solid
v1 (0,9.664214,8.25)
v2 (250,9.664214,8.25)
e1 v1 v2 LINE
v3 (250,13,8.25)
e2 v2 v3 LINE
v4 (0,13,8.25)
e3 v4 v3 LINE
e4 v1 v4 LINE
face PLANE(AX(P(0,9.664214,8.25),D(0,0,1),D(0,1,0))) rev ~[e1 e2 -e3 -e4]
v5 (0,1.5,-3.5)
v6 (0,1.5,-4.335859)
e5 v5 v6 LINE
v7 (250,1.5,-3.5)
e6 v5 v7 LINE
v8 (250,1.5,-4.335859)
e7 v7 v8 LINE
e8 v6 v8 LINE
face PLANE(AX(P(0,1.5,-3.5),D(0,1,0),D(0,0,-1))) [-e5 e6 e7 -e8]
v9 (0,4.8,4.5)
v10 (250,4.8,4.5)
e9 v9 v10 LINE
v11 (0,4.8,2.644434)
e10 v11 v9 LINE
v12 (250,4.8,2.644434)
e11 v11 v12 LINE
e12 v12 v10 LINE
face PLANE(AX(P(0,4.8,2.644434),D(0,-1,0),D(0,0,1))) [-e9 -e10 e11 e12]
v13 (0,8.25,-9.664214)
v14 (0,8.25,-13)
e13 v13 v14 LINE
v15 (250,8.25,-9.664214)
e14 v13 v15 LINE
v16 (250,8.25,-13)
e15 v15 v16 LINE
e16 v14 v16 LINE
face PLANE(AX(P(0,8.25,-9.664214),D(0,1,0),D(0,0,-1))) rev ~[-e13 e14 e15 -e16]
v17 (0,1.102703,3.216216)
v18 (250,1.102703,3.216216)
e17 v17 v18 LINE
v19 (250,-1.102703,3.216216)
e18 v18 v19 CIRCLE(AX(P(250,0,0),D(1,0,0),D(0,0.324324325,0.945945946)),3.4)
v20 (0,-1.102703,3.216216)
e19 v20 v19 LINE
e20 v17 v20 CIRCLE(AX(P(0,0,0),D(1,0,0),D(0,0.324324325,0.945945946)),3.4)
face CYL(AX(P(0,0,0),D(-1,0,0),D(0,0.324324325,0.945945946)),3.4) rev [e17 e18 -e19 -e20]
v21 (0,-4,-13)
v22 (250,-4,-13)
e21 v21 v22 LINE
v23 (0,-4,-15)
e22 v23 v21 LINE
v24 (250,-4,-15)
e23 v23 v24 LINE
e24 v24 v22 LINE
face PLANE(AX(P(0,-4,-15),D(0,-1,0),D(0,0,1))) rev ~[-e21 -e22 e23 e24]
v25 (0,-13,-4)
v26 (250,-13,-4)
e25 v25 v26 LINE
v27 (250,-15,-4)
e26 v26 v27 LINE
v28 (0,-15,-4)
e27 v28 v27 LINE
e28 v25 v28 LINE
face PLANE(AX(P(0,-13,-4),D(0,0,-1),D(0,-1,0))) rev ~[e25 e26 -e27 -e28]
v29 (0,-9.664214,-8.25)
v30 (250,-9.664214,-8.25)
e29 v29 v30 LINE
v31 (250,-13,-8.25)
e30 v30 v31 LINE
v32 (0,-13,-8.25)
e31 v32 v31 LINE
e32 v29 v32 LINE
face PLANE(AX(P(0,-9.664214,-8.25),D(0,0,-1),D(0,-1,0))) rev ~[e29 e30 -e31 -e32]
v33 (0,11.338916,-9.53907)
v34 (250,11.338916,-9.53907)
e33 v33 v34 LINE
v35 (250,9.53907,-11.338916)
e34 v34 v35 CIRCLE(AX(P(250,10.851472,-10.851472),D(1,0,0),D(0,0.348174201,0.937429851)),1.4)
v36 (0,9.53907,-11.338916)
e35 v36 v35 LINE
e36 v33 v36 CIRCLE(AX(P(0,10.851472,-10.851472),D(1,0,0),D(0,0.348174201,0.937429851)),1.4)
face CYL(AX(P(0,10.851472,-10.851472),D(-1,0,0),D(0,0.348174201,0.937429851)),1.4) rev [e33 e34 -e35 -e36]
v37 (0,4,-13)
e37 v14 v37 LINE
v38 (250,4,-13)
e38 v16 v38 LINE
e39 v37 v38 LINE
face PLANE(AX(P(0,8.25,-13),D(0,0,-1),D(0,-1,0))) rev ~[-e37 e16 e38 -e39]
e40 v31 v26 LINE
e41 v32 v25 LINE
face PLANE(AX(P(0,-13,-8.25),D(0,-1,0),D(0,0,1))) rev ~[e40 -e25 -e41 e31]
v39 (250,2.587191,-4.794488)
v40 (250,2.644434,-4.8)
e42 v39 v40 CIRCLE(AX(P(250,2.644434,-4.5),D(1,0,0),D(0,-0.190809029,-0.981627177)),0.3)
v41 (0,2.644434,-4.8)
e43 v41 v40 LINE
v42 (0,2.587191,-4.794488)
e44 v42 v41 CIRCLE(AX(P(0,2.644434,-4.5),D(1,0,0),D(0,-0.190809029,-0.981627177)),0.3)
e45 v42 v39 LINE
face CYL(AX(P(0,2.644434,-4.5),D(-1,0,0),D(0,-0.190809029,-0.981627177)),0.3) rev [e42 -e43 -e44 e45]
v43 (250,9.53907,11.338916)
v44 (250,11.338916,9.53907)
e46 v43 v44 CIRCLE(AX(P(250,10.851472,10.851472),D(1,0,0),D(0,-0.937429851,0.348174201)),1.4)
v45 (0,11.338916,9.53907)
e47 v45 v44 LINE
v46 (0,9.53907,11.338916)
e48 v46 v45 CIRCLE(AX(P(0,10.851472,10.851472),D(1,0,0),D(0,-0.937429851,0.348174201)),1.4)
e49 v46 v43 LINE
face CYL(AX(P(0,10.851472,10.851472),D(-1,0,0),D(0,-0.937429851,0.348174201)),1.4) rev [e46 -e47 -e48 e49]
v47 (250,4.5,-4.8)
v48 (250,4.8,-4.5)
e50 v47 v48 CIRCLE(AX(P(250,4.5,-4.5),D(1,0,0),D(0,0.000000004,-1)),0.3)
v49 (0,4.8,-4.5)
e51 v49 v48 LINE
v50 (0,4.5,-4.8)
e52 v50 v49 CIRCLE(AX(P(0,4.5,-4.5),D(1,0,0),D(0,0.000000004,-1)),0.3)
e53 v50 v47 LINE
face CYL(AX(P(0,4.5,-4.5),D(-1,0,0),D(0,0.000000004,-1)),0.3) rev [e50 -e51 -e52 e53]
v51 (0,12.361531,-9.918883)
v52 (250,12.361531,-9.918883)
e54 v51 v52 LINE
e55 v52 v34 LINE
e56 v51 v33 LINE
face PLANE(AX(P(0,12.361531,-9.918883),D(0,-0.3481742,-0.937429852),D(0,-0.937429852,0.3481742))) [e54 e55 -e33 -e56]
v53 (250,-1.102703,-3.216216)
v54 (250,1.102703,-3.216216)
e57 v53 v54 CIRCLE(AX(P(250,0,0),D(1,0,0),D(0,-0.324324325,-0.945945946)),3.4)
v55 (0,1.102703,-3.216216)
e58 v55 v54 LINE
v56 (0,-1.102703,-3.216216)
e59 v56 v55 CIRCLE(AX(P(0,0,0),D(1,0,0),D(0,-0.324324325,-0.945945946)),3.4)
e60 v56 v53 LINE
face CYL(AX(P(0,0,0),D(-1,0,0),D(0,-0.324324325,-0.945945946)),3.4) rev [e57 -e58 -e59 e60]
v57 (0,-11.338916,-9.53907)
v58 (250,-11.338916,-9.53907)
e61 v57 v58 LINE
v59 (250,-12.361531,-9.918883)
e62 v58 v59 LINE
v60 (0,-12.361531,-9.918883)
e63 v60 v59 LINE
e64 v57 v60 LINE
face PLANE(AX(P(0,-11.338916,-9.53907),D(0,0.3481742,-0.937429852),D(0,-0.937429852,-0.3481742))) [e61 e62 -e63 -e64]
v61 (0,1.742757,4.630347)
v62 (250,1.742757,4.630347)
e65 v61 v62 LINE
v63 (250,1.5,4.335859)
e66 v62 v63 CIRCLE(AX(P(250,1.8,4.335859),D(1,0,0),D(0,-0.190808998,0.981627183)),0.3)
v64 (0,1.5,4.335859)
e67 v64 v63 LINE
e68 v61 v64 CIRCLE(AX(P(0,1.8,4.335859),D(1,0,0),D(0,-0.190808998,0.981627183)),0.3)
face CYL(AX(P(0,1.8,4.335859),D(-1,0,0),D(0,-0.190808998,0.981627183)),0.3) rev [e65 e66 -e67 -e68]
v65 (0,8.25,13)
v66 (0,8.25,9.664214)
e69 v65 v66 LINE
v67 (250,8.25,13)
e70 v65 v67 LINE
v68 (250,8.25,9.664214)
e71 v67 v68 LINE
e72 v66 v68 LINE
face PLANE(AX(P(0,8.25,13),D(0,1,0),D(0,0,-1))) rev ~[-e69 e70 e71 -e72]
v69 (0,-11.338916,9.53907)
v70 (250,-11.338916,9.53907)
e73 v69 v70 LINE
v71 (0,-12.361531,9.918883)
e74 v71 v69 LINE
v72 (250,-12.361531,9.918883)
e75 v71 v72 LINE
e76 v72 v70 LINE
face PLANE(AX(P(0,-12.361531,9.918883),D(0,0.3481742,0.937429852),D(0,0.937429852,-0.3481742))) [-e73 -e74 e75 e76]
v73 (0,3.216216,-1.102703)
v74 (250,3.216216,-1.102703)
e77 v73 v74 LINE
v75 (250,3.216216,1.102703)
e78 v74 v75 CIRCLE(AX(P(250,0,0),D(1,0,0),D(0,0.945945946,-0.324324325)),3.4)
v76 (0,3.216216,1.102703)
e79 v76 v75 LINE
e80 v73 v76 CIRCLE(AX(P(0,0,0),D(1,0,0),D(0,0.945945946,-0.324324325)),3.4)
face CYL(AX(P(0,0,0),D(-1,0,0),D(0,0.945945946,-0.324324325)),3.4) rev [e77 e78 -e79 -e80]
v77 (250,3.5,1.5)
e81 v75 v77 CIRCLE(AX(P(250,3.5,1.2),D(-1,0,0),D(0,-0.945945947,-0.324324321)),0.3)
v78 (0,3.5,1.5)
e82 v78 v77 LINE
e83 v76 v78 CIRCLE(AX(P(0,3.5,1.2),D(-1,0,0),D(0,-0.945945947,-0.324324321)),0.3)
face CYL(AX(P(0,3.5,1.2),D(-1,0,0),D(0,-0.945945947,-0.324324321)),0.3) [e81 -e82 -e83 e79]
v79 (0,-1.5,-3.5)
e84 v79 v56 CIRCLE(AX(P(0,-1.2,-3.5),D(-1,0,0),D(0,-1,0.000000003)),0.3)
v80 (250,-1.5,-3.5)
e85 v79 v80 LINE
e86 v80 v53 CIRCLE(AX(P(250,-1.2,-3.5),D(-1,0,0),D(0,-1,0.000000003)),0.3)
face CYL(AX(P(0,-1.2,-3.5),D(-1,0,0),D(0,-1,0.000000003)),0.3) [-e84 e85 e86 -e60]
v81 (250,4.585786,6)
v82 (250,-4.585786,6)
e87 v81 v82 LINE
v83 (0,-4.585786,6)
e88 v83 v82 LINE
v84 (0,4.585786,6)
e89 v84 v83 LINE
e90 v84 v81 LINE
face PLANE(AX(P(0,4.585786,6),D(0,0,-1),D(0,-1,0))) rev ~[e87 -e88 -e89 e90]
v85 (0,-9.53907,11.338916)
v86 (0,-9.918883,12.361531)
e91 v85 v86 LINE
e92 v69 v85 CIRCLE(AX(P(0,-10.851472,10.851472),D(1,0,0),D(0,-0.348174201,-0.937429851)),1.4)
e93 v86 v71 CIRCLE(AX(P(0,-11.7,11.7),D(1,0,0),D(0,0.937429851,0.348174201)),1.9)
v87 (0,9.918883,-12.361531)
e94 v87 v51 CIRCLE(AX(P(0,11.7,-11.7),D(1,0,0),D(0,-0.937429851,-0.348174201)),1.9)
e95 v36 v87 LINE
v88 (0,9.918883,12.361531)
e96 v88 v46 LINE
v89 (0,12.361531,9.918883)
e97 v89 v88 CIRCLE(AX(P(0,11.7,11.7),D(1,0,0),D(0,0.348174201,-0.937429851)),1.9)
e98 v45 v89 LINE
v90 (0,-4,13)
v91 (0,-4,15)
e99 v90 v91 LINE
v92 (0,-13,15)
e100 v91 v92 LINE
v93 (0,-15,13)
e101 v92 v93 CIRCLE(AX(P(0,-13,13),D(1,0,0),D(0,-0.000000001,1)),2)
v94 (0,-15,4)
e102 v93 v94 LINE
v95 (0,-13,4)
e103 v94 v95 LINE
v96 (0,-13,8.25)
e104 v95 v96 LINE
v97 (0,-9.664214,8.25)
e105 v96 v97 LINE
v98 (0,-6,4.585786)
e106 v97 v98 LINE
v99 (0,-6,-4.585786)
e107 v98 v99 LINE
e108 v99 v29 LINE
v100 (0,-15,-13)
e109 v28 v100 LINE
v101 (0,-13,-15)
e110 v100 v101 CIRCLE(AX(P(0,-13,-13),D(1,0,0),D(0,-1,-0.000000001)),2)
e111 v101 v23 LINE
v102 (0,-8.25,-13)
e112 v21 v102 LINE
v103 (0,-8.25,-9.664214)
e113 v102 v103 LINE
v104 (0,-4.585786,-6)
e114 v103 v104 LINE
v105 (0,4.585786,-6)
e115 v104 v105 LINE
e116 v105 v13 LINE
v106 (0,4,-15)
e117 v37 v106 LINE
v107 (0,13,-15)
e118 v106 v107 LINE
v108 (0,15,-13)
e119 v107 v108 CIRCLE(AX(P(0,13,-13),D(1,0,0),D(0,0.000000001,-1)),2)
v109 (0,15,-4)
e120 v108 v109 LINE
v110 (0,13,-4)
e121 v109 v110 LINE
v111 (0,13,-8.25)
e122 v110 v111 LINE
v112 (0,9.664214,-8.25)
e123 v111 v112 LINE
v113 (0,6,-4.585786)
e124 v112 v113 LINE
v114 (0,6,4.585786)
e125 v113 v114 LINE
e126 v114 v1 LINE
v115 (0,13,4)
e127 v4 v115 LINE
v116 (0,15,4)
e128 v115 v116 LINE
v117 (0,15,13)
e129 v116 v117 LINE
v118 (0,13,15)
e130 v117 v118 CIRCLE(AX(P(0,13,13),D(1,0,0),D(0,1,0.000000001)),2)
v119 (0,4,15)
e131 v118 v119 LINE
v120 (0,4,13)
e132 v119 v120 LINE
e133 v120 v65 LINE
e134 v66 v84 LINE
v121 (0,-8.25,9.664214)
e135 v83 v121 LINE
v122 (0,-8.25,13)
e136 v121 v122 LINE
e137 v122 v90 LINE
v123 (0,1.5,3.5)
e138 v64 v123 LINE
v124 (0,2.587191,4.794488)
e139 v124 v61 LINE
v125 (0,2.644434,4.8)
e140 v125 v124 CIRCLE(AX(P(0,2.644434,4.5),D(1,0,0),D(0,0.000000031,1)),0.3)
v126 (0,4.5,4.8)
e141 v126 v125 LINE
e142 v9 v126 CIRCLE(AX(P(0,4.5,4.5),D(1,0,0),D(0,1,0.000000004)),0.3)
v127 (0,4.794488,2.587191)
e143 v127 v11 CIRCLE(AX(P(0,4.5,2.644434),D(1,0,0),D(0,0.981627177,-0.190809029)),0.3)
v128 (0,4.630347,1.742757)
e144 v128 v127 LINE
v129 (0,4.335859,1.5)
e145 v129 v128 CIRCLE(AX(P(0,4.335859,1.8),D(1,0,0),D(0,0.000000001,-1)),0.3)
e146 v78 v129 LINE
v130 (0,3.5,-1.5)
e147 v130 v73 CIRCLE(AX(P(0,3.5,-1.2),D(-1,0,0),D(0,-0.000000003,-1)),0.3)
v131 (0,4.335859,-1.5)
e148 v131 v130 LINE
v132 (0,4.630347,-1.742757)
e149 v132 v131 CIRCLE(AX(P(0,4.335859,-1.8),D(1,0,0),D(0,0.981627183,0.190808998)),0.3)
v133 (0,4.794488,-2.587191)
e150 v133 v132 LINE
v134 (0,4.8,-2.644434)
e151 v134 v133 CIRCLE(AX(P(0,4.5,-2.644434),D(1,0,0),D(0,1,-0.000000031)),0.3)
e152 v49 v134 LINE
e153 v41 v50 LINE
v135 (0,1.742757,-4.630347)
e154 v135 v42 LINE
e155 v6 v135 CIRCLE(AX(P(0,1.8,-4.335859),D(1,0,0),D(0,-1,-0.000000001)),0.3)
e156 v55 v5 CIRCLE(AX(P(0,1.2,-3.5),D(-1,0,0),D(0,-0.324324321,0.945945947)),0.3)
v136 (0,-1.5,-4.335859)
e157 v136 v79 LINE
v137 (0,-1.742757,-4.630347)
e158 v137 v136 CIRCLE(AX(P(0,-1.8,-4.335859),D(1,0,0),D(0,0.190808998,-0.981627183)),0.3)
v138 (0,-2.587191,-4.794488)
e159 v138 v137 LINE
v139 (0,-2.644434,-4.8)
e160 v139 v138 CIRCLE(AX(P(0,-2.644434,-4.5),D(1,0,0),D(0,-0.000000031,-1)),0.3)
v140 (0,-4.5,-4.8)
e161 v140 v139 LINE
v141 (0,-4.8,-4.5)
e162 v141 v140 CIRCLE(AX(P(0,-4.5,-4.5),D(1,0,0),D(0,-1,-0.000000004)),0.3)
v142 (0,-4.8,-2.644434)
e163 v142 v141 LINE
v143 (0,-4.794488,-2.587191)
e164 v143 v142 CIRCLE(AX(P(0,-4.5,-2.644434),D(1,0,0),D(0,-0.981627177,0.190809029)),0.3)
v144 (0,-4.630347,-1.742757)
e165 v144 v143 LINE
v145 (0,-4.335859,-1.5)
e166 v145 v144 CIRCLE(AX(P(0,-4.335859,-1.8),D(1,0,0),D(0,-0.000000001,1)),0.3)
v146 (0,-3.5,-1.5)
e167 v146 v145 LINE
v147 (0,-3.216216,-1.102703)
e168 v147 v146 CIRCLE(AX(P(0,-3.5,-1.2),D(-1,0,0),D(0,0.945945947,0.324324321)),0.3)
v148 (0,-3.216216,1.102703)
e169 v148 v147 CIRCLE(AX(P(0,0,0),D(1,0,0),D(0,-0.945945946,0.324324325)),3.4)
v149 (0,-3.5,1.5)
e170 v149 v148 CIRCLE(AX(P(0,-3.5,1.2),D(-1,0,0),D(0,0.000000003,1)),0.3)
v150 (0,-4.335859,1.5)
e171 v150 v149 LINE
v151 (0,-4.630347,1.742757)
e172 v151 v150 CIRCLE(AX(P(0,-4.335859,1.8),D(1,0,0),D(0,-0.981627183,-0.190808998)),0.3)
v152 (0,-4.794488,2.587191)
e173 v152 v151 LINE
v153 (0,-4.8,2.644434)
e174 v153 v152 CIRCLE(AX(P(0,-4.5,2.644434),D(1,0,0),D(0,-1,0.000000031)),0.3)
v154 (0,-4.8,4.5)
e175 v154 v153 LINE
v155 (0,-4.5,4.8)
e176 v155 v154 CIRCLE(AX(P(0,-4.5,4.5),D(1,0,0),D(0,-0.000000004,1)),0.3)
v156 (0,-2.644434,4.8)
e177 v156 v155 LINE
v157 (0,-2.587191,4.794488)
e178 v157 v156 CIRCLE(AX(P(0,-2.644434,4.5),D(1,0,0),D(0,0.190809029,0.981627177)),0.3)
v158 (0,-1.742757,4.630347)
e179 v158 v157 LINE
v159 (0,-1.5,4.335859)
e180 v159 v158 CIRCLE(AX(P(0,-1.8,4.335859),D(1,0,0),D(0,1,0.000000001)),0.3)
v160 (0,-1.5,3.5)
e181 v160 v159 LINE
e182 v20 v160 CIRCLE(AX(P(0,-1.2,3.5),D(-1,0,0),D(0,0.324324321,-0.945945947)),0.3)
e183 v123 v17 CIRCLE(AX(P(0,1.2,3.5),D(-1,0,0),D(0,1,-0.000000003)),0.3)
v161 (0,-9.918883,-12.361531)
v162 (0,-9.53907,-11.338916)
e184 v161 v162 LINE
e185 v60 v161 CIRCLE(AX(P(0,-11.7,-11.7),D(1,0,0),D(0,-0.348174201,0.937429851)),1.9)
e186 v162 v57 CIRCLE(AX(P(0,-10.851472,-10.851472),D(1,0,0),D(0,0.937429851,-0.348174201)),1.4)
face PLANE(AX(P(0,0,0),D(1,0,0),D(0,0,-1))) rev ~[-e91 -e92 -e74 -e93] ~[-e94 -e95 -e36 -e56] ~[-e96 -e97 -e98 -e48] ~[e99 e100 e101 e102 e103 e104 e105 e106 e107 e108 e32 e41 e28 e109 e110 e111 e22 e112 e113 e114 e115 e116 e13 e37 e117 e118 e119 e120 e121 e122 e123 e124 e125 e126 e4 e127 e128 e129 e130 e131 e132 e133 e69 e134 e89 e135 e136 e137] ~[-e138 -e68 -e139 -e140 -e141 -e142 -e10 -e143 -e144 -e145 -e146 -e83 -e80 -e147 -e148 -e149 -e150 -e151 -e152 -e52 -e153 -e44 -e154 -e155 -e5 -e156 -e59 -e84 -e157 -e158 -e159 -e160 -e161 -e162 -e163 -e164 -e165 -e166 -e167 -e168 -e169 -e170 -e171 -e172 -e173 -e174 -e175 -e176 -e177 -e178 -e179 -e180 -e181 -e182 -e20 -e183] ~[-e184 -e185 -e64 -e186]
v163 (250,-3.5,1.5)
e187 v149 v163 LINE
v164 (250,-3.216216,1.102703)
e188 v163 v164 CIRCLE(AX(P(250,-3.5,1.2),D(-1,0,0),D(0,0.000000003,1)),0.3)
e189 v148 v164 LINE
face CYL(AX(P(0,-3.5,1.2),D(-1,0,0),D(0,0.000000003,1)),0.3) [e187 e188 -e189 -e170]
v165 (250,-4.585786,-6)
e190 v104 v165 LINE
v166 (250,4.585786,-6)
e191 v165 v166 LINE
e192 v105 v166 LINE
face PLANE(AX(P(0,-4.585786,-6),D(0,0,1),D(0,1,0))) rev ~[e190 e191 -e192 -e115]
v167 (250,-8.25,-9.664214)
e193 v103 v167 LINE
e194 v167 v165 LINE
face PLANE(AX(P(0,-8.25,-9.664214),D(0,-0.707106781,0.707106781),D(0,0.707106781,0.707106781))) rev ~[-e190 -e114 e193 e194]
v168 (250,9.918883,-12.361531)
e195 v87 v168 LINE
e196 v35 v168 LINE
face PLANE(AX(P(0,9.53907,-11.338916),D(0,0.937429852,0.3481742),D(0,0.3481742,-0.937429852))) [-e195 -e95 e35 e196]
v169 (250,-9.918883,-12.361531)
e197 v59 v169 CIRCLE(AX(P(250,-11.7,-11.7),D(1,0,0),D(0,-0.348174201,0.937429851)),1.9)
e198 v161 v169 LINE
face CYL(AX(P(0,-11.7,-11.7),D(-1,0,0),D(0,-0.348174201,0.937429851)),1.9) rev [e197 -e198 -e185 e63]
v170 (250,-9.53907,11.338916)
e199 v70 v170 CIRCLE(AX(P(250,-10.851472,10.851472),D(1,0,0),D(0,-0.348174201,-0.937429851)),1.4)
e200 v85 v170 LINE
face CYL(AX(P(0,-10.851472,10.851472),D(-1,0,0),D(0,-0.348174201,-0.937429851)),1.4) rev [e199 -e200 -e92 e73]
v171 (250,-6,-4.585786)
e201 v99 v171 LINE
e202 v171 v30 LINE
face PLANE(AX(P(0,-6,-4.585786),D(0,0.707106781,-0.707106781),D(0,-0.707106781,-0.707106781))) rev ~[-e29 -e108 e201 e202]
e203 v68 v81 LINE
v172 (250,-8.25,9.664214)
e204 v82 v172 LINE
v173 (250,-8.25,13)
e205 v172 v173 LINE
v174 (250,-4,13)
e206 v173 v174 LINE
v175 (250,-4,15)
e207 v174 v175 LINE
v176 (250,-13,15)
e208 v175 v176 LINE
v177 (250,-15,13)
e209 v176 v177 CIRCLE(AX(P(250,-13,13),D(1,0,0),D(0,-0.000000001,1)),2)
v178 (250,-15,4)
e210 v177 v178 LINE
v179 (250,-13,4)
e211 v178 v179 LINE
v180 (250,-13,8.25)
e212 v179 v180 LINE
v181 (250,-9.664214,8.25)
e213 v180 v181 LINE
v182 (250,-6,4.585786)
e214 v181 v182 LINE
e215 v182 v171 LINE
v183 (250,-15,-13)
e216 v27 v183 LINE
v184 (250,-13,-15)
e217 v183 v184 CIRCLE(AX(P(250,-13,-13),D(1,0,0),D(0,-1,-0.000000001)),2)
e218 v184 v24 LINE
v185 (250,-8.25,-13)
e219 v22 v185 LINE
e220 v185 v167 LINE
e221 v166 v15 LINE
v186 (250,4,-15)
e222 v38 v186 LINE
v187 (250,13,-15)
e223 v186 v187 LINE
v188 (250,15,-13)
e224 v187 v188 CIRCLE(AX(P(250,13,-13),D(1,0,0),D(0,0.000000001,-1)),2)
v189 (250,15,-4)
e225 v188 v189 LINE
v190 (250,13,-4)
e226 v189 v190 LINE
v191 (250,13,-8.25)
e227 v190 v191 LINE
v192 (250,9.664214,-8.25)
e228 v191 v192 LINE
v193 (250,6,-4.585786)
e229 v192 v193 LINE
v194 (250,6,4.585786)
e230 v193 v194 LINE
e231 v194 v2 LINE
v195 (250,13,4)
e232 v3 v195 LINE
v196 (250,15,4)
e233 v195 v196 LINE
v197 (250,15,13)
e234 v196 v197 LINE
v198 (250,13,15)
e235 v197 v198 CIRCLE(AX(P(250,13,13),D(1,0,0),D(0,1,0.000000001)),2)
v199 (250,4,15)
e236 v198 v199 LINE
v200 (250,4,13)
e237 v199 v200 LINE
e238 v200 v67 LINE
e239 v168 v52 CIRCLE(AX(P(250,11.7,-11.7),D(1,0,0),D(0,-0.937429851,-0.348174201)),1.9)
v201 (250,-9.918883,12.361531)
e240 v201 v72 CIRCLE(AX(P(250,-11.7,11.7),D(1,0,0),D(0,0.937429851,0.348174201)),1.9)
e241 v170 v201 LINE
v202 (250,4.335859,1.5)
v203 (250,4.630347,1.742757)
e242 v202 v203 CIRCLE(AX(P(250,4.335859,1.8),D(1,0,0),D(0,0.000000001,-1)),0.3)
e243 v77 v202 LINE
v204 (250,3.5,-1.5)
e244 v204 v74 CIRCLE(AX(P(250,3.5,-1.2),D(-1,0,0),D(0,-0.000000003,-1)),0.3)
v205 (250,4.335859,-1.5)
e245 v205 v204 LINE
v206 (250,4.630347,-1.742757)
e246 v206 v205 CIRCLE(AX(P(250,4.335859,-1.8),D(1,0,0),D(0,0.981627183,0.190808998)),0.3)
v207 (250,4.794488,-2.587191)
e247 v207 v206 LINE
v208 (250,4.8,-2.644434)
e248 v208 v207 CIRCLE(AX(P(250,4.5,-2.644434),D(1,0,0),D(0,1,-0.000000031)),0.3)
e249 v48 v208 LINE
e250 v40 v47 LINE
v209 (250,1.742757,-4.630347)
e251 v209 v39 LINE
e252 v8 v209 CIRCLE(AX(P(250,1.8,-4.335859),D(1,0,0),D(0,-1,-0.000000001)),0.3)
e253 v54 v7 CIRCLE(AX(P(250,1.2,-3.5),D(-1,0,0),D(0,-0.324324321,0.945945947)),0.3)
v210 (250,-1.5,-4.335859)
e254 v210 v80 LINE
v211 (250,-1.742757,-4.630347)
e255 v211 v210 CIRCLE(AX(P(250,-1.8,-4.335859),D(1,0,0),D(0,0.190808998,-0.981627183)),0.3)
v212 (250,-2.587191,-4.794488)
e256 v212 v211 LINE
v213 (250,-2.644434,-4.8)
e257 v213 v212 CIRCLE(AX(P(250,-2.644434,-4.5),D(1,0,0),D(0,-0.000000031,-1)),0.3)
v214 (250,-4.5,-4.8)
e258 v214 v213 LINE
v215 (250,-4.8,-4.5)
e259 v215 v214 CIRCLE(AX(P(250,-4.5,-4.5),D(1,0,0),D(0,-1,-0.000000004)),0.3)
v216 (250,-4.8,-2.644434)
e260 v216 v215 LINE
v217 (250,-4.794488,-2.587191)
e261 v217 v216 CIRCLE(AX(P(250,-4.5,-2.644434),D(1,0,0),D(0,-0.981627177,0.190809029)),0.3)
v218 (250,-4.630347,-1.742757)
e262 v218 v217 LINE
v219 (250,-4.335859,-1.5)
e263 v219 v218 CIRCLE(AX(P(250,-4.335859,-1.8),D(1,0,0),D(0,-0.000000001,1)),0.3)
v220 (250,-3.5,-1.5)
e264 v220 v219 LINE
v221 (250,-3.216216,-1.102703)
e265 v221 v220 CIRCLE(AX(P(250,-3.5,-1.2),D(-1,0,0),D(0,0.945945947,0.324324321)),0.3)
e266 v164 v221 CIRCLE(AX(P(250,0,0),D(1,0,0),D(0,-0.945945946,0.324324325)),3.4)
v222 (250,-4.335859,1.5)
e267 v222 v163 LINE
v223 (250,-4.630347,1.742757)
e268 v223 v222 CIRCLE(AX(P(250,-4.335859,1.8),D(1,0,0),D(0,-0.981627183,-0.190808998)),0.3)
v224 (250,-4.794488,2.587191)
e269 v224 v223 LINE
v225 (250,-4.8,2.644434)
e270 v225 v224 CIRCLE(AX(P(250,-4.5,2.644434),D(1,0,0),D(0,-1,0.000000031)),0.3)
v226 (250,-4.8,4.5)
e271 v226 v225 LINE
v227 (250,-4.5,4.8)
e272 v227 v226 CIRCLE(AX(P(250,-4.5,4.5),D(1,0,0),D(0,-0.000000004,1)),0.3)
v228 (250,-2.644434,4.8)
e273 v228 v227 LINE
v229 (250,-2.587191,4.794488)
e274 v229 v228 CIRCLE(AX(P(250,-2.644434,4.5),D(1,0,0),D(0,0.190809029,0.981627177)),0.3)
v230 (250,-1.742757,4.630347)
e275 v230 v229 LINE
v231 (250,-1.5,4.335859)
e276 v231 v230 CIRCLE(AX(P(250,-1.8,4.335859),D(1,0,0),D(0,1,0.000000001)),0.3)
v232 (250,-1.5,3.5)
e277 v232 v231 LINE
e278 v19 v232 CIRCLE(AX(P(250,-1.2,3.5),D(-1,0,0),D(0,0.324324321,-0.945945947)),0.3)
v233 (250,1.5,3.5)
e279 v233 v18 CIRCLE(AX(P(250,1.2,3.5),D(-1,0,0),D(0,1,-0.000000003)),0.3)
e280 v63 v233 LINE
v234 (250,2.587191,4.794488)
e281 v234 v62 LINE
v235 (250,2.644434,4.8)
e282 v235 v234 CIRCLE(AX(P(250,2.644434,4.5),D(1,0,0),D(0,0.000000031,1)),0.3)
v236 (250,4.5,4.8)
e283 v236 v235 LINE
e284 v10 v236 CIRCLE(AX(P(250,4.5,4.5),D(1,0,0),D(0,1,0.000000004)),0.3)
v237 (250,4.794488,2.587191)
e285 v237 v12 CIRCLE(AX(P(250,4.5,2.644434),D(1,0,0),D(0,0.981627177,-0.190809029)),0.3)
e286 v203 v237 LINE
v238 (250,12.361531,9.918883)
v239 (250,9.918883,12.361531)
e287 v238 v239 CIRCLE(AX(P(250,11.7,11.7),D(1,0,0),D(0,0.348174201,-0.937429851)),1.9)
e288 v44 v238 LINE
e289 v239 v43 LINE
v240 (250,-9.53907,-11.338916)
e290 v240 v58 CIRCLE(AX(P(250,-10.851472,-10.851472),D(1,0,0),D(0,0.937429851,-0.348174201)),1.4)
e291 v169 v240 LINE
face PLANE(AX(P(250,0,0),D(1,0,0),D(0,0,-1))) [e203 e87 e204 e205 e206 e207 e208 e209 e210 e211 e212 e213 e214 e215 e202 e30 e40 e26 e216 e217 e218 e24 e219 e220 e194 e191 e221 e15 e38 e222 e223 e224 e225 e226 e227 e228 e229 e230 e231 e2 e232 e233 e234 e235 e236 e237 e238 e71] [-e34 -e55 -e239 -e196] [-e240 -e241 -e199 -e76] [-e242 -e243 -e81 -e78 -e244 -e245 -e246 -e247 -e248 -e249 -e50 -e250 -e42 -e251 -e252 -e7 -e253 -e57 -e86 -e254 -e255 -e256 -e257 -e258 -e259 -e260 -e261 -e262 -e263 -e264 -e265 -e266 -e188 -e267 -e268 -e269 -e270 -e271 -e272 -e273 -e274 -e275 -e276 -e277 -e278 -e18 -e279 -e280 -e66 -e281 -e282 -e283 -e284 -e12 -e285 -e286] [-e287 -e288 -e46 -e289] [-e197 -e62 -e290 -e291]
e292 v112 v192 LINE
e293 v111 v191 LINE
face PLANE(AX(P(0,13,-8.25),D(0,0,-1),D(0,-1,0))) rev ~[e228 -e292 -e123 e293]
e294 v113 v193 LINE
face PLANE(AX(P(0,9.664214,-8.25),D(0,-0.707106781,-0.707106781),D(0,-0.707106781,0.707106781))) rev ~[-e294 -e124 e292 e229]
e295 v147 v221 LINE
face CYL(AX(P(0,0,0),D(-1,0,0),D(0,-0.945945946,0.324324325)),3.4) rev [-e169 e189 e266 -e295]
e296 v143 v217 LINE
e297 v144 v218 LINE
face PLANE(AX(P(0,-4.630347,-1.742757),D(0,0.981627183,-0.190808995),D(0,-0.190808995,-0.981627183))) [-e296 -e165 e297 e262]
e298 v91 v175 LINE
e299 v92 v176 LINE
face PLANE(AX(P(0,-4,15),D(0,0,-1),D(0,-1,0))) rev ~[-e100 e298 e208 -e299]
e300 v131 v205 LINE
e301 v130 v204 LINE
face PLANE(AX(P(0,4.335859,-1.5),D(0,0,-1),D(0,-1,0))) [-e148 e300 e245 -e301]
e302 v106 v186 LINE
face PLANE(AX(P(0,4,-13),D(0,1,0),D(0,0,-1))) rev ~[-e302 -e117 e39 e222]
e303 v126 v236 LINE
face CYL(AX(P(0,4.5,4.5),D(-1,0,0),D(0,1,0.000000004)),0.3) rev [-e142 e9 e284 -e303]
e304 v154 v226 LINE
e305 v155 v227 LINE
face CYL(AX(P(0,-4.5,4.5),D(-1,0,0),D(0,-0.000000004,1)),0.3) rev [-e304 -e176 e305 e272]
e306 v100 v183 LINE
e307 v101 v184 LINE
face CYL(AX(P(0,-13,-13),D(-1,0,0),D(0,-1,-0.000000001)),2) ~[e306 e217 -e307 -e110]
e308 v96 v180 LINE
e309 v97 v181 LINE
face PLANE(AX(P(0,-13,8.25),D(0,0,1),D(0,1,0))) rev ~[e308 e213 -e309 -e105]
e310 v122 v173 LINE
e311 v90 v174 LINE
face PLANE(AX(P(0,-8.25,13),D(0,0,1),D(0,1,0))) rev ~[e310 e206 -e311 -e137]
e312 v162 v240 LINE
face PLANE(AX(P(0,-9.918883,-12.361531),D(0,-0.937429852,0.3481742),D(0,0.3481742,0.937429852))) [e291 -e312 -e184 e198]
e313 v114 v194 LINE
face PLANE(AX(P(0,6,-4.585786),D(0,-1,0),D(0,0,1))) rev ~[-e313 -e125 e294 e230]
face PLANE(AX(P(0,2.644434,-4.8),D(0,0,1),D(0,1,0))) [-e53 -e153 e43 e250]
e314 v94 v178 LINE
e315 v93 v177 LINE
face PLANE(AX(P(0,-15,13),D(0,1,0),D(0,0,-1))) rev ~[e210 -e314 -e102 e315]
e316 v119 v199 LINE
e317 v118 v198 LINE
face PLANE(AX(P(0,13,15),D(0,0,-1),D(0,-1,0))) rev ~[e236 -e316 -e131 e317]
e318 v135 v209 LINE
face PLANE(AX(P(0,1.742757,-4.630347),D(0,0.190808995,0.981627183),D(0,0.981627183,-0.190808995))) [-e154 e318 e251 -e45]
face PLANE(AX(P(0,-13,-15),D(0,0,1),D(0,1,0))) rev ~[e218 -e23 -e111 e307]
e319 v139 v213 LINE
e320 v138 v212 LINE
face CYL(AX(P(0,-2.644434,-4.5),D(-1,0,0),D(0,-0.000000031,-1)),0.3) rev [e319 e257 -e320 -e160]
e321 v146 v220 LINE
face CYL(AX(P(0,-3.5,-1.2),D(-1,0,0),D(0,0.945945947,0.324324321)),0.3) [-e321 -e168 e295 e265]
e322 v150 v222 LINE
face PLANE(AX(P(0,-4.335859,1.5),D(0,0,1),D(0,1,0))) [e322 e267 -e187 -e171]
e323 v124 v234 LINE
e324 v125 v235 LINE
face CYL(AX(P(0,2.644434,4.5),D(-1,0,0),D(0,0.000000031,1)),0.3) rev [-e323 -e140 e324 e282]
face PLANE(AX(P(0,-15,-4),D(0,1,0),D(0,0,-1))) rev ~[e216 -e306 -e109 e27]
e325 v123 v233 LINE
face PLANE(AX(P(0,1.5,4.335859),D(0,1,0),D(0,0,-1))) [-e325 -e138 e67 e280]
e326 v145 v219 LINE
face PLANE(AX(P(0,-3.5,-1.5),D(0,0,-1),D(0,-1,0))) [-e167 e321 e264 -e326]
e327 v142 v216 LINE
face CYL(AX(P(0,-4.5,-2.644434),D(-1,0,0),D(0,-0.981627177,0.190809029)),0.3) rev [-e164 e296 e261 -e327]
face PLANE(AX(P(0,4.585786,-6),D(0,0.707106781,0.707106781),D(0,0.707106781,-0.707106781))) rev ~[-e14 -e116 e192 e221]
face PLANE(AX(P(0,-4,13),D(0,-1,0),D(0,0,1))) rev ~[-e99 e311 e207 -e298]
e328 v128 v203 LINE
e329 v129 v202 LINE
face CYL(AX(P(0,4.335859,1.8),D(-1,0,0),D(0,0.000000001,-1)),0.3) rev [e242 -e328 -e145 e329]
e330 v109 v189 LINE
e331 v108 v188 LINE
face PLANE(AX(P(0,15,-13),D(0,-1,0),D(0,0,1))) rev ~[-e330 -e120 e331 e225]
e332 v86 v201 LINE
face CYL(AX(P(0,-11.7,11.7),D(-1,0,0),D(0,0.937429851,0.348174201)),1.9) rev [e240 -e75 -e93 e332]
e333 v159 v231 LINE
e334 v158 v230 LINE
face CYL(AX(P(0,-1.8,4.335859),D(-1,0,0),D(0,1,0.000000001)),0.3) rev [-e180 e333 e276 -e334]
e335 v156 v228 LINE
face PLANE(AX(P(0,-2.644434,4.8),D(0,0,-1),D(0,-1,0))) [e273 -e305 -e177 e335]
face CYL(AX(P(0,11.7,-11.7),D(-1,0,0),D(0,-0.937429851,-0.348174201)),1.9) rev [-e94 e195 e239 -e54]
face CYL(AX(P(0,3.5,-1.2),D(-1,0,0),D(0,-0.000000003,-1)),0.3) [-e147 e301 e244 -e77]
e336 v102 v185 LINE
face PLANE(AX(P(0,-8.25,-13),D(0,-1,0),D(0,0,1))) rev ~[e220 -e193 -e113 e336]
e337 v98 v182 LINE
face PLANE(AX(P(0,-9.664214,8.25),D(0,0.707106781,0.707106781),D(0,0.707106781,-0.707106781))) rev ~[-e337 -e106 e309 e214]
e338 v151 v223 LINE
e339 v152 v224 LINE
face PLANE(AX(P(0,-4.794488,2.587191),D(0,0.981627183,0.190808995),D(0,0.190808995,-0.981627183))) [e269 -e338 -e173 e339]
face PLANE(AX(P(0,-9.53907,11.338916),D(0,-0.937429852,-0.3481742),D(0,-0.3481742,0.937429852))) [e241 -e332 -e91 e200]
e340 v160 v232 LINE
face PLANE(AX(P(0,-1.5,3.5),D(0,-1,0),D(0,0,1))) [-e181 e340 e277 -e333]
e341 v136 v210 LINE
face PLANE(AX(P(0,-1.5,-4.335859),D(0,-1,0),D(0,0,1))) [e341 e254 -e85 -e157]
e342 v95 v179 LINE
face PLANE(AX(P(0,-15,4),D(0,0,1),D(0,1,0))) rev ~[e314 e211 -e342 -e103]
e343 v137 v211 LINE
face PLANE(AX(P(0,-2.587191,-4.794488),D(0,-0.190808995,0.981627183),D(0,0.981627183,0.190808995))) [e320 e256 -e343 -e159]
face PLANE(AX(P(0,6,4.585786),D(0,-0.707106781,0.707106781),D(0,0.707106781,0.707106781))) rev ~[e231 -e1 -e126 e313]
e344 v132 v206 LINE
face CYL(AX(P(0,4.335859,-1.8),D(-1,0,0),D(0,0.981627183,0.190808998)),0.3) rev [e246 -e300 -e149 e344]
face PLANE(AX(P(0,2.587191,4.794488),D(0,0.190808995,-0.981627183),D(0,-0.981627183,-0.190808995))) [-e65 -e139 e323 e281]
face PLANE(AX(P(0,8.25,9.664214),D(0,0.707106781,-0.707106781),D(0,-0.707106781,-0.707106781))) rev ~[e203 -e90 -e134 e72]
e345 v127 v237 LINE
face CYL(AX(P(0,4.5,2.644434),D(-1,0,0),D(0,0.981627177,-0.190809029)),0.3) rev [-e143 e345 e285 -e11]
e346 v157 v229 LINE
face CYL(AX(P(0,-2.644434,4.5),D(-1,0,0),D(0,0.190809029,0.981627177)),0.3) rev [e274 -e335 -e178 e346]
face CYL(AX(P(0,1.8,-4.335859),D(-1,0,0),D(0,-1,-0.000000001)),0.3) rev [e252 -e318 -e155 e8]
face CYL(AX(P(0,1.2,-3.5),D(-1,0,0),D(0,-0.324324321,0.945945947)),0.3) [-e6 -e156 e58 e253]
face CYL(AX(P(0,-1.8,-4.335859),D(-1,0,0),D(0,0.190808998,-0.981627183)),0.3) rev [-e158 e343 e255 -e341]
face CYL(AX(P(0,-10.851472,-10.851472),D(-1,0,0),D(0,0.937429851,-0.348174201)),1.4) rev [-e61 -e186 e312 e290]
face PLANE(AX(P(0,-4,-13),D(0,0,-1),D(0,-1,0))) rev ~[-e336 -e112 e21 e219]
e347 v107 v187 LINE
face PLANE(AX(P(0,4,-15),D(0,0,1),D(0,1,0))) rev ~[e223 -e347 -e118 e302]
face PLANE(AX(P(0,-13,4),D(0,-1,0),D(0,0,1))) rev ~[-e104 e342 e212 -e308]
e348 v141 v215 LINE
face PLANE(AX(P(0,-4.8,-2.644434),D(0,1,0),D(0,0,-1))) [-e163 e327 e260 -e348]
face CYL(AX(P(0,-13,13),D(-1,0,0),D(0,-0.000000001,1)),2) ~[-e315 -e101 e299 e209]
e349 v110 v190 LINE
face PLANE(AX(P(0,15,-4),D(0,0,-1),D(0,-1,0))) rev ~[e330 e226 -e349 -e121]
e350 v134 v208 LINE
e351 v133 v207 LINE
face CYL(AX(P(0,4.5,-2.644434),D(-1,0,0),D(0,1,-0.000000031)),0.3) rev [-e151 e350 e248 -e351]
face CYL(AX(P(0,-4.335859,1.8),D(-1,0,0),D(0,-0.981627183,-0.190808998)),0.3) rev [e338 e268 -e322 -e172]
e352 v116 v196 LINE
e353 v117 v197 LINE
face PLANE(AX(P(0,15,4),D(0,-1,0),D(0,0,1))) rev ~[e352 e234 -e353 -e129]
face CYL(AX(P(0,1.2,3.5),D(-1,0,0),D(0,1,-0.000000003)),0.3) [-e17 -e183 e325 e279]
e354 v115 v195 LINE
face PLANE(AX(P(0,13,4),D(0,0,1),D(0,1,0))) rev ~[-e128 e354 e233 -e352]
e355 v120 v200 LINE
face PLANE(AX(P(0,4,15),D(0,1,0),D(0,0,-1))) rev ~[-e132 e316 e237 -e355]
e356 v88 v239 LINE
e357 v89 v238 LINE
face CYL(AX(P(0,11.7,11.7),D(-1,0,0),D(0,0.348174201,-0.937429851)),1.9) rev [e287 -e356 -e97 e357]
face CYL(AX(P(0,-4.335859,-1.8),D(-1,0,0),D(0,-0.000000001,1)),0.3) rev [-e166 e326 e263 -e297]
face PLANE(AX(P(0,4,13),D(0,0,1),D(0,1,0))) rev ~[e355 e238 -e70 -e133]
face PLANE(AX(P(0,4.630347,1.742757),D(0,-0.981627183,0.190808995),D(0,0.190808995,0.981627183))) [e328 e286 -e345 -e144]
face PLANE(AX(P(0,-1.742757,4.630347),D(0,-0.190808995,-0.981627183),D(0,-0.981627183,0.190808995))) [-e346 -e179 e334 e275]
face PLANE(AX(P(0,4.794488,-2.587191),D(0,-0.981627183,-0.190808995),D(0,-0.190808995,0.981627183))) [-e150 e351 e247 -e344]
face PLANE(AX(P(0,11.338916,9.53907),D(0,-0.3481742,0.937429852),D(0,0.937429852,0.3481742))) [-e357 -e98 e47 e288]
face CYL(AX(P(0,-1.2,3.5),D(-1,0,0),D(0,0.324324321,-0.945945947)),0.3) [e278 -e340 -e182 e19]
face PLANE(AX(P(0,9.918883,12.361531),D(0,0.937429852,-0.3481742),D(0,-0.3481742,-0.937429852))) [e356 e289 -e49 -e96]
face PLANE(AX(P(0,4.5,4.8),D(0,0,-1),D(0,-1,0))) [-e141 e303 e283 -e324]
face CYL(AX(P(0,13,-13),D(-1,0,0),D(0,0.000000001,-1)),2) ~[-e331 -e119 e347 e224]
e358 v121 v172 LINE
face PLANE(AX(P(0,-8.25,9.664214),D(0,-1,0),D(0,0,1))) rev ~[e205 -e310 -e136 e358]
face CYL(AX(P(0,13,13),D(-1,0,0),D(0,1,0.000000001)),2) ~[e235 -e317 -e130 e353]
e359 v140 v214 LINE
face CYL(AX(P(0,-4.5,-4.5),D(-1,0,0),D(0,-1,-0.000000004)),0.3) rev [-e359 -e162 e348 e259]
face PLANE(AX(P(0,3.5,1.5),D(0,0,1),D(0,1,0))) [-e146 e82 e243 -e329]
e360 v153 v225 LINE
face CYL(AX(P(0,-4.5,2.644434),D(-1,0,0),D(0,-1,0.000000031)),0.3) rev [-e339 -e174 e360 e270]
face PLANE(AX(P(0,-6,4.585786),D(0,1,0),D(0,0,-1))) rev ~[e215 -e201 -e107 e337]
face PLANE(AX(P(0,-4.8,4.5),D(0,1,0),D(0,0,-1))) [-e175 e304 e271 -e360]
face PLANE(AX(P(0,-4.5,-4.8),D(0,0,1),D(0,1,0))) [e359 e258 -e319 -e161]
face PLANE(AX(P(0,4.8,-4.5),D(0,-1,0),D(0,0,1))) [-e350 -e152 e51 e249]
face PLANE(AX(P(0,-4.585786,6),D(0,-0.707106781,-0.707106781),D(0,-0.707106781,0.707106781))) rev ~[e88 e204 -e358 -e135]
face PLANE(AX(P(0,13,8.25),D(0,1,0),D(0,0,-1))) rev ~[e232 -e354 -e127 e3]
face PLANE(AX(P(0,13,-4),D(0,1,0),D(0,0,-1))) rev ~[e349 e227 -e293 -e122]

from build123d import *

# Parameters (mm, degrees)
BOSS_EXTRUDE1_DEPTH = 250


with BuildPart() as part:
    # Sketch1 → Boss-Extrude1 (new body)
    with BuildSketch(Plane(origin=(0, 0, 0), x_dir=(0, 0, -1), z_dir=(1, 0, 0))):
        with BuildLine():
            Line((-15, 13), (-15, 4))
            Line((-15, 4), (-13, 4))
            Line((-13, 4), (-13, 8.25))
            Line((-13, 8.25), (-9.664213562, 8.25))
            Line((-9.664213562, 8.25), (-6, 4.585786438))
            Line((-6, 4.585786438), (-6, -4.585786438))
            Line((-6, -4.585786438), (-9.664213562, -8.25))
            Line((-9.664213562, -8.25), (-13, -8.25))
            Line((-13, -8.25), (-13, -4))
            Line((-13, -4), (-15, -4))
            Line((-15, -4), (-15, -13))
            ThreePointArc((-15, -13), (-14.414213562, -14.414213562), (-13, -15))
            Line((-13, -15), (-4, -15))
            Line((-4, -15), (-4, -13))
            Line((-4, -13), (-8.25, -13))
            Line((-8.25, -13), (-8.25, -9.664213562))
            Line((-8.25, -9.664213562), (-4.585786438, -6))
            Line((-4.585786438, -6), (4.585786438, -6))
            Line((4.585786438, -6), (8.25, -9.664213562))
            Line((8.25, -9.664213562), (8.25, -13))
            Line((8.25, -13), (4, -13))
            Line((4, -13), (4, -15))
            Line((4, -15), (13, -15))
            ThreePointArc((13, -15), (14.414213562, -14.414213562), (15, -13))
            Line((15, -13), (15, -4))
            Line((15, -4), (13, -4))
            Line((13, -4), (13, -8.25))
            Line((13, -8.25), (9.664213562, -8.25))
            Line((9.664213562, -8.25), (6, -4.585786438))
            Line((6, -4.585786438), (6, 4.585786438))
            Line((6, 4.585786438), (9.664213562, 8.25))
            Line((9.664213562, 8.25), (13, 8.25))
            Line((13, 8.25), (13, 4))
            Line((13, 4), (15, 4))
            Line((15, 4), (15, 13))
            ThreePointArc((15, 13), (14.414213562, 14.414213562), (13, 15))
            Line((13, 15), (4, 15))
            Line((4, 15), (4, 13))
            Line((4, 13), (8.25, 13))
            Line((8.25, 13), (8.25, 9.664213562))
            Line((8.25, 9.664213562), (4.585786438, 6))
            Line((4.585786438, 6), (-4.585786438, 6))
            Line((-4.585786438, 6), (-8.25, 9.664213562))
            Line((-8.25, 9.664213562), (-8.25, 13))
            Line((-8.25, 13), (-4, 13))
            Line((-4, 13), (-4, 15))
            Line((-4, 15), (-13, 15))
            ThreePointArc((-13, 15), (-14.414213562, 14.414213562), (-15, 13))
        make_face()
        with BuildLine():
            Line((-9.539070071, 11.338915743), (-9.918883282, 12.361530981))
            ThreePointArc((-9.918883282, 12.361530981), (-13.043502884, 13.043502884), (-12.361530981, 9.918883282))
            Line((-12.361530981, 9.918883282), (-11.338915743, 9.539070071))
            ThreePointArc((-11.338915743, 9.539070071), (-9.861522369, 9.861522369), (-9.539070071, 11.338915743))
        make_face(mode=Mode.SUBTRACT)
        with BuildLine():
            Line((9.918883282, 12.361530981), (9.539070071, 11.338915743))
            ThreePointArc((9.539070071, 11.338915743), (9.861522369, 9.861522369), (11.338915743, 9.539070071))
            Line((11.338915743, 9.539070071), (12.361530981, 9.918883282))
            ThreePointArc((12.361530981, 9.918883282), (13.043502884, 13.043502884), (9.918883282, 12.361530981))
        make_face(mode=Mode.SUBTRACT)
        with BuildLine():
            Line((12.361530981, -9.918883282), (11.338915743, -9.539070071))
            ThreePointArc((11.338915743, -9.539070071), (9.861522369, -9.861522369), (9.539070071, -11.338915743))
            Line((9.539070071, -11.338915743), (9.918883282, -12.361530981))
            ThreePointArc((9.918883282, -12.361530981), (13.043502884, -13.043502884), (12.361530981, -9.918883282))
        make_face(mode=Mode.SUBTRACT)
        with BuildLine():
            Line((-11.338915743, -9.539070071), (-12.361530981, -9.918883282))
            ThreePointArc((-12.361530981, -9.918883282), (-13.043502884, -13.043502884), (-9.918883282, -12.361530981))
            Line((-9.918883282, -12.361530981), (-9.539070071, -11.338915743))
            ThreePointArc((-9.539070071, -11.338915743), (-9.861522369, -9.861522369), (-11.338915743, -9.539070071))
        make_face(mode=Mode.SUBTRACT)
        with BuildLine():
            Line((-4.8, -2.644433572), (-4.8, -4.5))
            ThreePointArc((-4.8, -4.5), (-4.712132034, -4.712132034), (-4.5, -4.8))
            Line((-4.5, -4.8), (-2.644433572, -4.8))
            ThreePointArc((-2.644433572, -4.8), (-2.615679847, -4.79861886), (-2.587190874, -4.794488155))
            Line((-2.587190874, -4.794488155), (-1.742757301, -4.630346896))
            ThreePointArc((-1.742757301, -4.630346896), (-1.568512625, -4.526682207), (-1.5, -4.335858741))
            Line((-1.5, -4.335858741), (-1.5, -3.5))
            ThreePointArc((-1.5, -3.5), (-1.374371458, -3.255879959), (-1.102702703, -3.216216216))
            ThreePointArc((-1.102702703, -3.216216216), (0, -3.4), (1.102702703, -3.216216216))
            ThreePointArc((1.102702703, -3.216216216), (1.374371458, -3.255879959), (1.5, -3.5))
            Line((1.5, -3.5), (1.5, -4.335858741))
            ThreePointArc((1.5, -4.335858741), (1.568512625, -4.526682207), (1.742757301, -4.630346896))
            Line((1.742757301, -4.630346896), (2.587190874, -4.794488155))
            ThreePointArc((2.587190874, -4.794488155), (2.615679847, -4.79861886), (2.644433572, -4.8))
            Line((2.644433572, -4.8), (4.5, -4.8))
            ThreePointArc((4.5, -4.8), (4.712132034, -4.712132034), (4.8, -4.5))
            Line((4.8, -4.5), (4.8, -2.644433572))
            ThreePointArc((4.8, -2.644433572), (4.79861886, -2.615679847), (4.794488155, -2.587190874))
            Line((4.794488155, -2.587190874), (4.630346896, -1.742757301))
            ThreePointArc((4.630346896, -1.742757301), (4.526682207, -1.568512625), (4.335858741, -1.5))
            Line((4.335858741, -1.5), (3.5, -1.5))
            ThreePointArc((3.5, -1.5), (3.255879959, -1.374371458), (3.216216216, -1.102702703))
            ThreePointArc((3.216216216, -1.102702703), (3.4, 0), (3.216216216, 1.102702703))
            ThreePointArc((3.216216216, 1.102702703), (3.255879959, 1.374371458), (3.5, 1.5))
            Line((3.5, 1.5), (4.335858741, 1.5))
            ThreePointArc((4.335858741, 1.5), (4.526682207, 1.568512625), (4.630346896, 1.742757301))
            Line((4.630346896, 1.742757301), (4.794488155, 2.587190874))
            ThreePointArc((4.794488155, 2.587190874), (4.79861886, 2.615679847), (4.8, 2.644433572))
            Line((4.8, 2.644433572), (4.8, 4.5))
            ThreePointArc((4.8, 4.5), (4.712132034, 4.712132034), (4.5, 4.8))
            Line((4.5, 4.8), (2.644433572, 4.8))
            ThreePointArc((2.644433572, 4.8), (2.615679847, 4.79861886), (2.587190874, 4.794488155))
            Line((2.587190874, 4.794488155), (1.742757301, 4.630346896))
            ThreePointArc((1.742757301, 4.630346896), (1.568512625, 4.526682207), (1.5, 4.335858741))
            Line((1.5, 4.335858741), (1.5, 3.5))
            ThreePointArc((1.5, 3.5), (1.374371458, 3.255879959), (1.102702703, 3.216216216))
            ThreePointArc((1.102702703, 3.216216216), (0, 3.4), (-1.102702703, 3.216216216))
            ThreePointArc((-1.102702703, 3.216216216), (-1.374371458, 3.255879959), (-1.5, 3.5))
            Line((-1.5, 3.5), (-1.5, 4.335858741))
            ThreePointArc((-1.5, 4.335858741), (-1.568512625, 4.526682207), (-1.742757301, 4.630346896))
            Line((-1.742757301, 4.630346896), (-2.587190874, 4.794488155))
            ThreePointArc((-2.587190874, 4.794488155), (-2.615679847, 4.79861886), (-2.644433572, 4.8))
            Line((-2.644433572, 4.8), (-4.5, 4.8))
            ThreePointArc((-4.5, 4.8), (-4.712132034, 4.712132034), (-4.8, 4.5))
            Line((-4.8, 4.5), (-4.8, 2.644433572))
            ThreePointArc((-4.8, 2.644433572), (-4.79861886, 2.615679847), (-4.794488155, 2.587190874))
            Line((-4.794488155, 2.587190874), (-4.630346896, 1.742757301))
            ThreePointArc((-4.630346896, 1.742757301), (-4.526682207, 1.568512625), (-4.335858741, 1.5))
            Line((-4.335858741, 1.5), (-3.5, 1.5))
            ThreePointArc((-3.5, 1.5), (-3.255879959, 1.374371458), (-3.216216216, 1.102702703))
            ThreePointArc((-3.216216216, 1.102702703), (-3.4, 0), (-3.216216216, -1.102702703))
            ThreePointArc((-3.216216216, -1.102702703), (-3.255879959, -1.374371458), (-3.5, -1.5))
            Line((-3.5, -1.5), (-4.335858741, -1.5))
            ThreePointArc((-4.335858741, -1.5), (-4.526682207, -1.568512625), (-4.630346896, -1.742757301))
            Line((-4.630346896, -1.742757301), (-4.794488155, -2.587190874))
            ThreePointArc((-4.794488155, -2.587190874), (-4.79861886, -2.615679847), (-4.8, -2.644433572))
        make_face(mode=Mode.SUBTRACT)
    extrude(amount=BOSS_EXTRUDE1_DEPTH)


solid = part.part
